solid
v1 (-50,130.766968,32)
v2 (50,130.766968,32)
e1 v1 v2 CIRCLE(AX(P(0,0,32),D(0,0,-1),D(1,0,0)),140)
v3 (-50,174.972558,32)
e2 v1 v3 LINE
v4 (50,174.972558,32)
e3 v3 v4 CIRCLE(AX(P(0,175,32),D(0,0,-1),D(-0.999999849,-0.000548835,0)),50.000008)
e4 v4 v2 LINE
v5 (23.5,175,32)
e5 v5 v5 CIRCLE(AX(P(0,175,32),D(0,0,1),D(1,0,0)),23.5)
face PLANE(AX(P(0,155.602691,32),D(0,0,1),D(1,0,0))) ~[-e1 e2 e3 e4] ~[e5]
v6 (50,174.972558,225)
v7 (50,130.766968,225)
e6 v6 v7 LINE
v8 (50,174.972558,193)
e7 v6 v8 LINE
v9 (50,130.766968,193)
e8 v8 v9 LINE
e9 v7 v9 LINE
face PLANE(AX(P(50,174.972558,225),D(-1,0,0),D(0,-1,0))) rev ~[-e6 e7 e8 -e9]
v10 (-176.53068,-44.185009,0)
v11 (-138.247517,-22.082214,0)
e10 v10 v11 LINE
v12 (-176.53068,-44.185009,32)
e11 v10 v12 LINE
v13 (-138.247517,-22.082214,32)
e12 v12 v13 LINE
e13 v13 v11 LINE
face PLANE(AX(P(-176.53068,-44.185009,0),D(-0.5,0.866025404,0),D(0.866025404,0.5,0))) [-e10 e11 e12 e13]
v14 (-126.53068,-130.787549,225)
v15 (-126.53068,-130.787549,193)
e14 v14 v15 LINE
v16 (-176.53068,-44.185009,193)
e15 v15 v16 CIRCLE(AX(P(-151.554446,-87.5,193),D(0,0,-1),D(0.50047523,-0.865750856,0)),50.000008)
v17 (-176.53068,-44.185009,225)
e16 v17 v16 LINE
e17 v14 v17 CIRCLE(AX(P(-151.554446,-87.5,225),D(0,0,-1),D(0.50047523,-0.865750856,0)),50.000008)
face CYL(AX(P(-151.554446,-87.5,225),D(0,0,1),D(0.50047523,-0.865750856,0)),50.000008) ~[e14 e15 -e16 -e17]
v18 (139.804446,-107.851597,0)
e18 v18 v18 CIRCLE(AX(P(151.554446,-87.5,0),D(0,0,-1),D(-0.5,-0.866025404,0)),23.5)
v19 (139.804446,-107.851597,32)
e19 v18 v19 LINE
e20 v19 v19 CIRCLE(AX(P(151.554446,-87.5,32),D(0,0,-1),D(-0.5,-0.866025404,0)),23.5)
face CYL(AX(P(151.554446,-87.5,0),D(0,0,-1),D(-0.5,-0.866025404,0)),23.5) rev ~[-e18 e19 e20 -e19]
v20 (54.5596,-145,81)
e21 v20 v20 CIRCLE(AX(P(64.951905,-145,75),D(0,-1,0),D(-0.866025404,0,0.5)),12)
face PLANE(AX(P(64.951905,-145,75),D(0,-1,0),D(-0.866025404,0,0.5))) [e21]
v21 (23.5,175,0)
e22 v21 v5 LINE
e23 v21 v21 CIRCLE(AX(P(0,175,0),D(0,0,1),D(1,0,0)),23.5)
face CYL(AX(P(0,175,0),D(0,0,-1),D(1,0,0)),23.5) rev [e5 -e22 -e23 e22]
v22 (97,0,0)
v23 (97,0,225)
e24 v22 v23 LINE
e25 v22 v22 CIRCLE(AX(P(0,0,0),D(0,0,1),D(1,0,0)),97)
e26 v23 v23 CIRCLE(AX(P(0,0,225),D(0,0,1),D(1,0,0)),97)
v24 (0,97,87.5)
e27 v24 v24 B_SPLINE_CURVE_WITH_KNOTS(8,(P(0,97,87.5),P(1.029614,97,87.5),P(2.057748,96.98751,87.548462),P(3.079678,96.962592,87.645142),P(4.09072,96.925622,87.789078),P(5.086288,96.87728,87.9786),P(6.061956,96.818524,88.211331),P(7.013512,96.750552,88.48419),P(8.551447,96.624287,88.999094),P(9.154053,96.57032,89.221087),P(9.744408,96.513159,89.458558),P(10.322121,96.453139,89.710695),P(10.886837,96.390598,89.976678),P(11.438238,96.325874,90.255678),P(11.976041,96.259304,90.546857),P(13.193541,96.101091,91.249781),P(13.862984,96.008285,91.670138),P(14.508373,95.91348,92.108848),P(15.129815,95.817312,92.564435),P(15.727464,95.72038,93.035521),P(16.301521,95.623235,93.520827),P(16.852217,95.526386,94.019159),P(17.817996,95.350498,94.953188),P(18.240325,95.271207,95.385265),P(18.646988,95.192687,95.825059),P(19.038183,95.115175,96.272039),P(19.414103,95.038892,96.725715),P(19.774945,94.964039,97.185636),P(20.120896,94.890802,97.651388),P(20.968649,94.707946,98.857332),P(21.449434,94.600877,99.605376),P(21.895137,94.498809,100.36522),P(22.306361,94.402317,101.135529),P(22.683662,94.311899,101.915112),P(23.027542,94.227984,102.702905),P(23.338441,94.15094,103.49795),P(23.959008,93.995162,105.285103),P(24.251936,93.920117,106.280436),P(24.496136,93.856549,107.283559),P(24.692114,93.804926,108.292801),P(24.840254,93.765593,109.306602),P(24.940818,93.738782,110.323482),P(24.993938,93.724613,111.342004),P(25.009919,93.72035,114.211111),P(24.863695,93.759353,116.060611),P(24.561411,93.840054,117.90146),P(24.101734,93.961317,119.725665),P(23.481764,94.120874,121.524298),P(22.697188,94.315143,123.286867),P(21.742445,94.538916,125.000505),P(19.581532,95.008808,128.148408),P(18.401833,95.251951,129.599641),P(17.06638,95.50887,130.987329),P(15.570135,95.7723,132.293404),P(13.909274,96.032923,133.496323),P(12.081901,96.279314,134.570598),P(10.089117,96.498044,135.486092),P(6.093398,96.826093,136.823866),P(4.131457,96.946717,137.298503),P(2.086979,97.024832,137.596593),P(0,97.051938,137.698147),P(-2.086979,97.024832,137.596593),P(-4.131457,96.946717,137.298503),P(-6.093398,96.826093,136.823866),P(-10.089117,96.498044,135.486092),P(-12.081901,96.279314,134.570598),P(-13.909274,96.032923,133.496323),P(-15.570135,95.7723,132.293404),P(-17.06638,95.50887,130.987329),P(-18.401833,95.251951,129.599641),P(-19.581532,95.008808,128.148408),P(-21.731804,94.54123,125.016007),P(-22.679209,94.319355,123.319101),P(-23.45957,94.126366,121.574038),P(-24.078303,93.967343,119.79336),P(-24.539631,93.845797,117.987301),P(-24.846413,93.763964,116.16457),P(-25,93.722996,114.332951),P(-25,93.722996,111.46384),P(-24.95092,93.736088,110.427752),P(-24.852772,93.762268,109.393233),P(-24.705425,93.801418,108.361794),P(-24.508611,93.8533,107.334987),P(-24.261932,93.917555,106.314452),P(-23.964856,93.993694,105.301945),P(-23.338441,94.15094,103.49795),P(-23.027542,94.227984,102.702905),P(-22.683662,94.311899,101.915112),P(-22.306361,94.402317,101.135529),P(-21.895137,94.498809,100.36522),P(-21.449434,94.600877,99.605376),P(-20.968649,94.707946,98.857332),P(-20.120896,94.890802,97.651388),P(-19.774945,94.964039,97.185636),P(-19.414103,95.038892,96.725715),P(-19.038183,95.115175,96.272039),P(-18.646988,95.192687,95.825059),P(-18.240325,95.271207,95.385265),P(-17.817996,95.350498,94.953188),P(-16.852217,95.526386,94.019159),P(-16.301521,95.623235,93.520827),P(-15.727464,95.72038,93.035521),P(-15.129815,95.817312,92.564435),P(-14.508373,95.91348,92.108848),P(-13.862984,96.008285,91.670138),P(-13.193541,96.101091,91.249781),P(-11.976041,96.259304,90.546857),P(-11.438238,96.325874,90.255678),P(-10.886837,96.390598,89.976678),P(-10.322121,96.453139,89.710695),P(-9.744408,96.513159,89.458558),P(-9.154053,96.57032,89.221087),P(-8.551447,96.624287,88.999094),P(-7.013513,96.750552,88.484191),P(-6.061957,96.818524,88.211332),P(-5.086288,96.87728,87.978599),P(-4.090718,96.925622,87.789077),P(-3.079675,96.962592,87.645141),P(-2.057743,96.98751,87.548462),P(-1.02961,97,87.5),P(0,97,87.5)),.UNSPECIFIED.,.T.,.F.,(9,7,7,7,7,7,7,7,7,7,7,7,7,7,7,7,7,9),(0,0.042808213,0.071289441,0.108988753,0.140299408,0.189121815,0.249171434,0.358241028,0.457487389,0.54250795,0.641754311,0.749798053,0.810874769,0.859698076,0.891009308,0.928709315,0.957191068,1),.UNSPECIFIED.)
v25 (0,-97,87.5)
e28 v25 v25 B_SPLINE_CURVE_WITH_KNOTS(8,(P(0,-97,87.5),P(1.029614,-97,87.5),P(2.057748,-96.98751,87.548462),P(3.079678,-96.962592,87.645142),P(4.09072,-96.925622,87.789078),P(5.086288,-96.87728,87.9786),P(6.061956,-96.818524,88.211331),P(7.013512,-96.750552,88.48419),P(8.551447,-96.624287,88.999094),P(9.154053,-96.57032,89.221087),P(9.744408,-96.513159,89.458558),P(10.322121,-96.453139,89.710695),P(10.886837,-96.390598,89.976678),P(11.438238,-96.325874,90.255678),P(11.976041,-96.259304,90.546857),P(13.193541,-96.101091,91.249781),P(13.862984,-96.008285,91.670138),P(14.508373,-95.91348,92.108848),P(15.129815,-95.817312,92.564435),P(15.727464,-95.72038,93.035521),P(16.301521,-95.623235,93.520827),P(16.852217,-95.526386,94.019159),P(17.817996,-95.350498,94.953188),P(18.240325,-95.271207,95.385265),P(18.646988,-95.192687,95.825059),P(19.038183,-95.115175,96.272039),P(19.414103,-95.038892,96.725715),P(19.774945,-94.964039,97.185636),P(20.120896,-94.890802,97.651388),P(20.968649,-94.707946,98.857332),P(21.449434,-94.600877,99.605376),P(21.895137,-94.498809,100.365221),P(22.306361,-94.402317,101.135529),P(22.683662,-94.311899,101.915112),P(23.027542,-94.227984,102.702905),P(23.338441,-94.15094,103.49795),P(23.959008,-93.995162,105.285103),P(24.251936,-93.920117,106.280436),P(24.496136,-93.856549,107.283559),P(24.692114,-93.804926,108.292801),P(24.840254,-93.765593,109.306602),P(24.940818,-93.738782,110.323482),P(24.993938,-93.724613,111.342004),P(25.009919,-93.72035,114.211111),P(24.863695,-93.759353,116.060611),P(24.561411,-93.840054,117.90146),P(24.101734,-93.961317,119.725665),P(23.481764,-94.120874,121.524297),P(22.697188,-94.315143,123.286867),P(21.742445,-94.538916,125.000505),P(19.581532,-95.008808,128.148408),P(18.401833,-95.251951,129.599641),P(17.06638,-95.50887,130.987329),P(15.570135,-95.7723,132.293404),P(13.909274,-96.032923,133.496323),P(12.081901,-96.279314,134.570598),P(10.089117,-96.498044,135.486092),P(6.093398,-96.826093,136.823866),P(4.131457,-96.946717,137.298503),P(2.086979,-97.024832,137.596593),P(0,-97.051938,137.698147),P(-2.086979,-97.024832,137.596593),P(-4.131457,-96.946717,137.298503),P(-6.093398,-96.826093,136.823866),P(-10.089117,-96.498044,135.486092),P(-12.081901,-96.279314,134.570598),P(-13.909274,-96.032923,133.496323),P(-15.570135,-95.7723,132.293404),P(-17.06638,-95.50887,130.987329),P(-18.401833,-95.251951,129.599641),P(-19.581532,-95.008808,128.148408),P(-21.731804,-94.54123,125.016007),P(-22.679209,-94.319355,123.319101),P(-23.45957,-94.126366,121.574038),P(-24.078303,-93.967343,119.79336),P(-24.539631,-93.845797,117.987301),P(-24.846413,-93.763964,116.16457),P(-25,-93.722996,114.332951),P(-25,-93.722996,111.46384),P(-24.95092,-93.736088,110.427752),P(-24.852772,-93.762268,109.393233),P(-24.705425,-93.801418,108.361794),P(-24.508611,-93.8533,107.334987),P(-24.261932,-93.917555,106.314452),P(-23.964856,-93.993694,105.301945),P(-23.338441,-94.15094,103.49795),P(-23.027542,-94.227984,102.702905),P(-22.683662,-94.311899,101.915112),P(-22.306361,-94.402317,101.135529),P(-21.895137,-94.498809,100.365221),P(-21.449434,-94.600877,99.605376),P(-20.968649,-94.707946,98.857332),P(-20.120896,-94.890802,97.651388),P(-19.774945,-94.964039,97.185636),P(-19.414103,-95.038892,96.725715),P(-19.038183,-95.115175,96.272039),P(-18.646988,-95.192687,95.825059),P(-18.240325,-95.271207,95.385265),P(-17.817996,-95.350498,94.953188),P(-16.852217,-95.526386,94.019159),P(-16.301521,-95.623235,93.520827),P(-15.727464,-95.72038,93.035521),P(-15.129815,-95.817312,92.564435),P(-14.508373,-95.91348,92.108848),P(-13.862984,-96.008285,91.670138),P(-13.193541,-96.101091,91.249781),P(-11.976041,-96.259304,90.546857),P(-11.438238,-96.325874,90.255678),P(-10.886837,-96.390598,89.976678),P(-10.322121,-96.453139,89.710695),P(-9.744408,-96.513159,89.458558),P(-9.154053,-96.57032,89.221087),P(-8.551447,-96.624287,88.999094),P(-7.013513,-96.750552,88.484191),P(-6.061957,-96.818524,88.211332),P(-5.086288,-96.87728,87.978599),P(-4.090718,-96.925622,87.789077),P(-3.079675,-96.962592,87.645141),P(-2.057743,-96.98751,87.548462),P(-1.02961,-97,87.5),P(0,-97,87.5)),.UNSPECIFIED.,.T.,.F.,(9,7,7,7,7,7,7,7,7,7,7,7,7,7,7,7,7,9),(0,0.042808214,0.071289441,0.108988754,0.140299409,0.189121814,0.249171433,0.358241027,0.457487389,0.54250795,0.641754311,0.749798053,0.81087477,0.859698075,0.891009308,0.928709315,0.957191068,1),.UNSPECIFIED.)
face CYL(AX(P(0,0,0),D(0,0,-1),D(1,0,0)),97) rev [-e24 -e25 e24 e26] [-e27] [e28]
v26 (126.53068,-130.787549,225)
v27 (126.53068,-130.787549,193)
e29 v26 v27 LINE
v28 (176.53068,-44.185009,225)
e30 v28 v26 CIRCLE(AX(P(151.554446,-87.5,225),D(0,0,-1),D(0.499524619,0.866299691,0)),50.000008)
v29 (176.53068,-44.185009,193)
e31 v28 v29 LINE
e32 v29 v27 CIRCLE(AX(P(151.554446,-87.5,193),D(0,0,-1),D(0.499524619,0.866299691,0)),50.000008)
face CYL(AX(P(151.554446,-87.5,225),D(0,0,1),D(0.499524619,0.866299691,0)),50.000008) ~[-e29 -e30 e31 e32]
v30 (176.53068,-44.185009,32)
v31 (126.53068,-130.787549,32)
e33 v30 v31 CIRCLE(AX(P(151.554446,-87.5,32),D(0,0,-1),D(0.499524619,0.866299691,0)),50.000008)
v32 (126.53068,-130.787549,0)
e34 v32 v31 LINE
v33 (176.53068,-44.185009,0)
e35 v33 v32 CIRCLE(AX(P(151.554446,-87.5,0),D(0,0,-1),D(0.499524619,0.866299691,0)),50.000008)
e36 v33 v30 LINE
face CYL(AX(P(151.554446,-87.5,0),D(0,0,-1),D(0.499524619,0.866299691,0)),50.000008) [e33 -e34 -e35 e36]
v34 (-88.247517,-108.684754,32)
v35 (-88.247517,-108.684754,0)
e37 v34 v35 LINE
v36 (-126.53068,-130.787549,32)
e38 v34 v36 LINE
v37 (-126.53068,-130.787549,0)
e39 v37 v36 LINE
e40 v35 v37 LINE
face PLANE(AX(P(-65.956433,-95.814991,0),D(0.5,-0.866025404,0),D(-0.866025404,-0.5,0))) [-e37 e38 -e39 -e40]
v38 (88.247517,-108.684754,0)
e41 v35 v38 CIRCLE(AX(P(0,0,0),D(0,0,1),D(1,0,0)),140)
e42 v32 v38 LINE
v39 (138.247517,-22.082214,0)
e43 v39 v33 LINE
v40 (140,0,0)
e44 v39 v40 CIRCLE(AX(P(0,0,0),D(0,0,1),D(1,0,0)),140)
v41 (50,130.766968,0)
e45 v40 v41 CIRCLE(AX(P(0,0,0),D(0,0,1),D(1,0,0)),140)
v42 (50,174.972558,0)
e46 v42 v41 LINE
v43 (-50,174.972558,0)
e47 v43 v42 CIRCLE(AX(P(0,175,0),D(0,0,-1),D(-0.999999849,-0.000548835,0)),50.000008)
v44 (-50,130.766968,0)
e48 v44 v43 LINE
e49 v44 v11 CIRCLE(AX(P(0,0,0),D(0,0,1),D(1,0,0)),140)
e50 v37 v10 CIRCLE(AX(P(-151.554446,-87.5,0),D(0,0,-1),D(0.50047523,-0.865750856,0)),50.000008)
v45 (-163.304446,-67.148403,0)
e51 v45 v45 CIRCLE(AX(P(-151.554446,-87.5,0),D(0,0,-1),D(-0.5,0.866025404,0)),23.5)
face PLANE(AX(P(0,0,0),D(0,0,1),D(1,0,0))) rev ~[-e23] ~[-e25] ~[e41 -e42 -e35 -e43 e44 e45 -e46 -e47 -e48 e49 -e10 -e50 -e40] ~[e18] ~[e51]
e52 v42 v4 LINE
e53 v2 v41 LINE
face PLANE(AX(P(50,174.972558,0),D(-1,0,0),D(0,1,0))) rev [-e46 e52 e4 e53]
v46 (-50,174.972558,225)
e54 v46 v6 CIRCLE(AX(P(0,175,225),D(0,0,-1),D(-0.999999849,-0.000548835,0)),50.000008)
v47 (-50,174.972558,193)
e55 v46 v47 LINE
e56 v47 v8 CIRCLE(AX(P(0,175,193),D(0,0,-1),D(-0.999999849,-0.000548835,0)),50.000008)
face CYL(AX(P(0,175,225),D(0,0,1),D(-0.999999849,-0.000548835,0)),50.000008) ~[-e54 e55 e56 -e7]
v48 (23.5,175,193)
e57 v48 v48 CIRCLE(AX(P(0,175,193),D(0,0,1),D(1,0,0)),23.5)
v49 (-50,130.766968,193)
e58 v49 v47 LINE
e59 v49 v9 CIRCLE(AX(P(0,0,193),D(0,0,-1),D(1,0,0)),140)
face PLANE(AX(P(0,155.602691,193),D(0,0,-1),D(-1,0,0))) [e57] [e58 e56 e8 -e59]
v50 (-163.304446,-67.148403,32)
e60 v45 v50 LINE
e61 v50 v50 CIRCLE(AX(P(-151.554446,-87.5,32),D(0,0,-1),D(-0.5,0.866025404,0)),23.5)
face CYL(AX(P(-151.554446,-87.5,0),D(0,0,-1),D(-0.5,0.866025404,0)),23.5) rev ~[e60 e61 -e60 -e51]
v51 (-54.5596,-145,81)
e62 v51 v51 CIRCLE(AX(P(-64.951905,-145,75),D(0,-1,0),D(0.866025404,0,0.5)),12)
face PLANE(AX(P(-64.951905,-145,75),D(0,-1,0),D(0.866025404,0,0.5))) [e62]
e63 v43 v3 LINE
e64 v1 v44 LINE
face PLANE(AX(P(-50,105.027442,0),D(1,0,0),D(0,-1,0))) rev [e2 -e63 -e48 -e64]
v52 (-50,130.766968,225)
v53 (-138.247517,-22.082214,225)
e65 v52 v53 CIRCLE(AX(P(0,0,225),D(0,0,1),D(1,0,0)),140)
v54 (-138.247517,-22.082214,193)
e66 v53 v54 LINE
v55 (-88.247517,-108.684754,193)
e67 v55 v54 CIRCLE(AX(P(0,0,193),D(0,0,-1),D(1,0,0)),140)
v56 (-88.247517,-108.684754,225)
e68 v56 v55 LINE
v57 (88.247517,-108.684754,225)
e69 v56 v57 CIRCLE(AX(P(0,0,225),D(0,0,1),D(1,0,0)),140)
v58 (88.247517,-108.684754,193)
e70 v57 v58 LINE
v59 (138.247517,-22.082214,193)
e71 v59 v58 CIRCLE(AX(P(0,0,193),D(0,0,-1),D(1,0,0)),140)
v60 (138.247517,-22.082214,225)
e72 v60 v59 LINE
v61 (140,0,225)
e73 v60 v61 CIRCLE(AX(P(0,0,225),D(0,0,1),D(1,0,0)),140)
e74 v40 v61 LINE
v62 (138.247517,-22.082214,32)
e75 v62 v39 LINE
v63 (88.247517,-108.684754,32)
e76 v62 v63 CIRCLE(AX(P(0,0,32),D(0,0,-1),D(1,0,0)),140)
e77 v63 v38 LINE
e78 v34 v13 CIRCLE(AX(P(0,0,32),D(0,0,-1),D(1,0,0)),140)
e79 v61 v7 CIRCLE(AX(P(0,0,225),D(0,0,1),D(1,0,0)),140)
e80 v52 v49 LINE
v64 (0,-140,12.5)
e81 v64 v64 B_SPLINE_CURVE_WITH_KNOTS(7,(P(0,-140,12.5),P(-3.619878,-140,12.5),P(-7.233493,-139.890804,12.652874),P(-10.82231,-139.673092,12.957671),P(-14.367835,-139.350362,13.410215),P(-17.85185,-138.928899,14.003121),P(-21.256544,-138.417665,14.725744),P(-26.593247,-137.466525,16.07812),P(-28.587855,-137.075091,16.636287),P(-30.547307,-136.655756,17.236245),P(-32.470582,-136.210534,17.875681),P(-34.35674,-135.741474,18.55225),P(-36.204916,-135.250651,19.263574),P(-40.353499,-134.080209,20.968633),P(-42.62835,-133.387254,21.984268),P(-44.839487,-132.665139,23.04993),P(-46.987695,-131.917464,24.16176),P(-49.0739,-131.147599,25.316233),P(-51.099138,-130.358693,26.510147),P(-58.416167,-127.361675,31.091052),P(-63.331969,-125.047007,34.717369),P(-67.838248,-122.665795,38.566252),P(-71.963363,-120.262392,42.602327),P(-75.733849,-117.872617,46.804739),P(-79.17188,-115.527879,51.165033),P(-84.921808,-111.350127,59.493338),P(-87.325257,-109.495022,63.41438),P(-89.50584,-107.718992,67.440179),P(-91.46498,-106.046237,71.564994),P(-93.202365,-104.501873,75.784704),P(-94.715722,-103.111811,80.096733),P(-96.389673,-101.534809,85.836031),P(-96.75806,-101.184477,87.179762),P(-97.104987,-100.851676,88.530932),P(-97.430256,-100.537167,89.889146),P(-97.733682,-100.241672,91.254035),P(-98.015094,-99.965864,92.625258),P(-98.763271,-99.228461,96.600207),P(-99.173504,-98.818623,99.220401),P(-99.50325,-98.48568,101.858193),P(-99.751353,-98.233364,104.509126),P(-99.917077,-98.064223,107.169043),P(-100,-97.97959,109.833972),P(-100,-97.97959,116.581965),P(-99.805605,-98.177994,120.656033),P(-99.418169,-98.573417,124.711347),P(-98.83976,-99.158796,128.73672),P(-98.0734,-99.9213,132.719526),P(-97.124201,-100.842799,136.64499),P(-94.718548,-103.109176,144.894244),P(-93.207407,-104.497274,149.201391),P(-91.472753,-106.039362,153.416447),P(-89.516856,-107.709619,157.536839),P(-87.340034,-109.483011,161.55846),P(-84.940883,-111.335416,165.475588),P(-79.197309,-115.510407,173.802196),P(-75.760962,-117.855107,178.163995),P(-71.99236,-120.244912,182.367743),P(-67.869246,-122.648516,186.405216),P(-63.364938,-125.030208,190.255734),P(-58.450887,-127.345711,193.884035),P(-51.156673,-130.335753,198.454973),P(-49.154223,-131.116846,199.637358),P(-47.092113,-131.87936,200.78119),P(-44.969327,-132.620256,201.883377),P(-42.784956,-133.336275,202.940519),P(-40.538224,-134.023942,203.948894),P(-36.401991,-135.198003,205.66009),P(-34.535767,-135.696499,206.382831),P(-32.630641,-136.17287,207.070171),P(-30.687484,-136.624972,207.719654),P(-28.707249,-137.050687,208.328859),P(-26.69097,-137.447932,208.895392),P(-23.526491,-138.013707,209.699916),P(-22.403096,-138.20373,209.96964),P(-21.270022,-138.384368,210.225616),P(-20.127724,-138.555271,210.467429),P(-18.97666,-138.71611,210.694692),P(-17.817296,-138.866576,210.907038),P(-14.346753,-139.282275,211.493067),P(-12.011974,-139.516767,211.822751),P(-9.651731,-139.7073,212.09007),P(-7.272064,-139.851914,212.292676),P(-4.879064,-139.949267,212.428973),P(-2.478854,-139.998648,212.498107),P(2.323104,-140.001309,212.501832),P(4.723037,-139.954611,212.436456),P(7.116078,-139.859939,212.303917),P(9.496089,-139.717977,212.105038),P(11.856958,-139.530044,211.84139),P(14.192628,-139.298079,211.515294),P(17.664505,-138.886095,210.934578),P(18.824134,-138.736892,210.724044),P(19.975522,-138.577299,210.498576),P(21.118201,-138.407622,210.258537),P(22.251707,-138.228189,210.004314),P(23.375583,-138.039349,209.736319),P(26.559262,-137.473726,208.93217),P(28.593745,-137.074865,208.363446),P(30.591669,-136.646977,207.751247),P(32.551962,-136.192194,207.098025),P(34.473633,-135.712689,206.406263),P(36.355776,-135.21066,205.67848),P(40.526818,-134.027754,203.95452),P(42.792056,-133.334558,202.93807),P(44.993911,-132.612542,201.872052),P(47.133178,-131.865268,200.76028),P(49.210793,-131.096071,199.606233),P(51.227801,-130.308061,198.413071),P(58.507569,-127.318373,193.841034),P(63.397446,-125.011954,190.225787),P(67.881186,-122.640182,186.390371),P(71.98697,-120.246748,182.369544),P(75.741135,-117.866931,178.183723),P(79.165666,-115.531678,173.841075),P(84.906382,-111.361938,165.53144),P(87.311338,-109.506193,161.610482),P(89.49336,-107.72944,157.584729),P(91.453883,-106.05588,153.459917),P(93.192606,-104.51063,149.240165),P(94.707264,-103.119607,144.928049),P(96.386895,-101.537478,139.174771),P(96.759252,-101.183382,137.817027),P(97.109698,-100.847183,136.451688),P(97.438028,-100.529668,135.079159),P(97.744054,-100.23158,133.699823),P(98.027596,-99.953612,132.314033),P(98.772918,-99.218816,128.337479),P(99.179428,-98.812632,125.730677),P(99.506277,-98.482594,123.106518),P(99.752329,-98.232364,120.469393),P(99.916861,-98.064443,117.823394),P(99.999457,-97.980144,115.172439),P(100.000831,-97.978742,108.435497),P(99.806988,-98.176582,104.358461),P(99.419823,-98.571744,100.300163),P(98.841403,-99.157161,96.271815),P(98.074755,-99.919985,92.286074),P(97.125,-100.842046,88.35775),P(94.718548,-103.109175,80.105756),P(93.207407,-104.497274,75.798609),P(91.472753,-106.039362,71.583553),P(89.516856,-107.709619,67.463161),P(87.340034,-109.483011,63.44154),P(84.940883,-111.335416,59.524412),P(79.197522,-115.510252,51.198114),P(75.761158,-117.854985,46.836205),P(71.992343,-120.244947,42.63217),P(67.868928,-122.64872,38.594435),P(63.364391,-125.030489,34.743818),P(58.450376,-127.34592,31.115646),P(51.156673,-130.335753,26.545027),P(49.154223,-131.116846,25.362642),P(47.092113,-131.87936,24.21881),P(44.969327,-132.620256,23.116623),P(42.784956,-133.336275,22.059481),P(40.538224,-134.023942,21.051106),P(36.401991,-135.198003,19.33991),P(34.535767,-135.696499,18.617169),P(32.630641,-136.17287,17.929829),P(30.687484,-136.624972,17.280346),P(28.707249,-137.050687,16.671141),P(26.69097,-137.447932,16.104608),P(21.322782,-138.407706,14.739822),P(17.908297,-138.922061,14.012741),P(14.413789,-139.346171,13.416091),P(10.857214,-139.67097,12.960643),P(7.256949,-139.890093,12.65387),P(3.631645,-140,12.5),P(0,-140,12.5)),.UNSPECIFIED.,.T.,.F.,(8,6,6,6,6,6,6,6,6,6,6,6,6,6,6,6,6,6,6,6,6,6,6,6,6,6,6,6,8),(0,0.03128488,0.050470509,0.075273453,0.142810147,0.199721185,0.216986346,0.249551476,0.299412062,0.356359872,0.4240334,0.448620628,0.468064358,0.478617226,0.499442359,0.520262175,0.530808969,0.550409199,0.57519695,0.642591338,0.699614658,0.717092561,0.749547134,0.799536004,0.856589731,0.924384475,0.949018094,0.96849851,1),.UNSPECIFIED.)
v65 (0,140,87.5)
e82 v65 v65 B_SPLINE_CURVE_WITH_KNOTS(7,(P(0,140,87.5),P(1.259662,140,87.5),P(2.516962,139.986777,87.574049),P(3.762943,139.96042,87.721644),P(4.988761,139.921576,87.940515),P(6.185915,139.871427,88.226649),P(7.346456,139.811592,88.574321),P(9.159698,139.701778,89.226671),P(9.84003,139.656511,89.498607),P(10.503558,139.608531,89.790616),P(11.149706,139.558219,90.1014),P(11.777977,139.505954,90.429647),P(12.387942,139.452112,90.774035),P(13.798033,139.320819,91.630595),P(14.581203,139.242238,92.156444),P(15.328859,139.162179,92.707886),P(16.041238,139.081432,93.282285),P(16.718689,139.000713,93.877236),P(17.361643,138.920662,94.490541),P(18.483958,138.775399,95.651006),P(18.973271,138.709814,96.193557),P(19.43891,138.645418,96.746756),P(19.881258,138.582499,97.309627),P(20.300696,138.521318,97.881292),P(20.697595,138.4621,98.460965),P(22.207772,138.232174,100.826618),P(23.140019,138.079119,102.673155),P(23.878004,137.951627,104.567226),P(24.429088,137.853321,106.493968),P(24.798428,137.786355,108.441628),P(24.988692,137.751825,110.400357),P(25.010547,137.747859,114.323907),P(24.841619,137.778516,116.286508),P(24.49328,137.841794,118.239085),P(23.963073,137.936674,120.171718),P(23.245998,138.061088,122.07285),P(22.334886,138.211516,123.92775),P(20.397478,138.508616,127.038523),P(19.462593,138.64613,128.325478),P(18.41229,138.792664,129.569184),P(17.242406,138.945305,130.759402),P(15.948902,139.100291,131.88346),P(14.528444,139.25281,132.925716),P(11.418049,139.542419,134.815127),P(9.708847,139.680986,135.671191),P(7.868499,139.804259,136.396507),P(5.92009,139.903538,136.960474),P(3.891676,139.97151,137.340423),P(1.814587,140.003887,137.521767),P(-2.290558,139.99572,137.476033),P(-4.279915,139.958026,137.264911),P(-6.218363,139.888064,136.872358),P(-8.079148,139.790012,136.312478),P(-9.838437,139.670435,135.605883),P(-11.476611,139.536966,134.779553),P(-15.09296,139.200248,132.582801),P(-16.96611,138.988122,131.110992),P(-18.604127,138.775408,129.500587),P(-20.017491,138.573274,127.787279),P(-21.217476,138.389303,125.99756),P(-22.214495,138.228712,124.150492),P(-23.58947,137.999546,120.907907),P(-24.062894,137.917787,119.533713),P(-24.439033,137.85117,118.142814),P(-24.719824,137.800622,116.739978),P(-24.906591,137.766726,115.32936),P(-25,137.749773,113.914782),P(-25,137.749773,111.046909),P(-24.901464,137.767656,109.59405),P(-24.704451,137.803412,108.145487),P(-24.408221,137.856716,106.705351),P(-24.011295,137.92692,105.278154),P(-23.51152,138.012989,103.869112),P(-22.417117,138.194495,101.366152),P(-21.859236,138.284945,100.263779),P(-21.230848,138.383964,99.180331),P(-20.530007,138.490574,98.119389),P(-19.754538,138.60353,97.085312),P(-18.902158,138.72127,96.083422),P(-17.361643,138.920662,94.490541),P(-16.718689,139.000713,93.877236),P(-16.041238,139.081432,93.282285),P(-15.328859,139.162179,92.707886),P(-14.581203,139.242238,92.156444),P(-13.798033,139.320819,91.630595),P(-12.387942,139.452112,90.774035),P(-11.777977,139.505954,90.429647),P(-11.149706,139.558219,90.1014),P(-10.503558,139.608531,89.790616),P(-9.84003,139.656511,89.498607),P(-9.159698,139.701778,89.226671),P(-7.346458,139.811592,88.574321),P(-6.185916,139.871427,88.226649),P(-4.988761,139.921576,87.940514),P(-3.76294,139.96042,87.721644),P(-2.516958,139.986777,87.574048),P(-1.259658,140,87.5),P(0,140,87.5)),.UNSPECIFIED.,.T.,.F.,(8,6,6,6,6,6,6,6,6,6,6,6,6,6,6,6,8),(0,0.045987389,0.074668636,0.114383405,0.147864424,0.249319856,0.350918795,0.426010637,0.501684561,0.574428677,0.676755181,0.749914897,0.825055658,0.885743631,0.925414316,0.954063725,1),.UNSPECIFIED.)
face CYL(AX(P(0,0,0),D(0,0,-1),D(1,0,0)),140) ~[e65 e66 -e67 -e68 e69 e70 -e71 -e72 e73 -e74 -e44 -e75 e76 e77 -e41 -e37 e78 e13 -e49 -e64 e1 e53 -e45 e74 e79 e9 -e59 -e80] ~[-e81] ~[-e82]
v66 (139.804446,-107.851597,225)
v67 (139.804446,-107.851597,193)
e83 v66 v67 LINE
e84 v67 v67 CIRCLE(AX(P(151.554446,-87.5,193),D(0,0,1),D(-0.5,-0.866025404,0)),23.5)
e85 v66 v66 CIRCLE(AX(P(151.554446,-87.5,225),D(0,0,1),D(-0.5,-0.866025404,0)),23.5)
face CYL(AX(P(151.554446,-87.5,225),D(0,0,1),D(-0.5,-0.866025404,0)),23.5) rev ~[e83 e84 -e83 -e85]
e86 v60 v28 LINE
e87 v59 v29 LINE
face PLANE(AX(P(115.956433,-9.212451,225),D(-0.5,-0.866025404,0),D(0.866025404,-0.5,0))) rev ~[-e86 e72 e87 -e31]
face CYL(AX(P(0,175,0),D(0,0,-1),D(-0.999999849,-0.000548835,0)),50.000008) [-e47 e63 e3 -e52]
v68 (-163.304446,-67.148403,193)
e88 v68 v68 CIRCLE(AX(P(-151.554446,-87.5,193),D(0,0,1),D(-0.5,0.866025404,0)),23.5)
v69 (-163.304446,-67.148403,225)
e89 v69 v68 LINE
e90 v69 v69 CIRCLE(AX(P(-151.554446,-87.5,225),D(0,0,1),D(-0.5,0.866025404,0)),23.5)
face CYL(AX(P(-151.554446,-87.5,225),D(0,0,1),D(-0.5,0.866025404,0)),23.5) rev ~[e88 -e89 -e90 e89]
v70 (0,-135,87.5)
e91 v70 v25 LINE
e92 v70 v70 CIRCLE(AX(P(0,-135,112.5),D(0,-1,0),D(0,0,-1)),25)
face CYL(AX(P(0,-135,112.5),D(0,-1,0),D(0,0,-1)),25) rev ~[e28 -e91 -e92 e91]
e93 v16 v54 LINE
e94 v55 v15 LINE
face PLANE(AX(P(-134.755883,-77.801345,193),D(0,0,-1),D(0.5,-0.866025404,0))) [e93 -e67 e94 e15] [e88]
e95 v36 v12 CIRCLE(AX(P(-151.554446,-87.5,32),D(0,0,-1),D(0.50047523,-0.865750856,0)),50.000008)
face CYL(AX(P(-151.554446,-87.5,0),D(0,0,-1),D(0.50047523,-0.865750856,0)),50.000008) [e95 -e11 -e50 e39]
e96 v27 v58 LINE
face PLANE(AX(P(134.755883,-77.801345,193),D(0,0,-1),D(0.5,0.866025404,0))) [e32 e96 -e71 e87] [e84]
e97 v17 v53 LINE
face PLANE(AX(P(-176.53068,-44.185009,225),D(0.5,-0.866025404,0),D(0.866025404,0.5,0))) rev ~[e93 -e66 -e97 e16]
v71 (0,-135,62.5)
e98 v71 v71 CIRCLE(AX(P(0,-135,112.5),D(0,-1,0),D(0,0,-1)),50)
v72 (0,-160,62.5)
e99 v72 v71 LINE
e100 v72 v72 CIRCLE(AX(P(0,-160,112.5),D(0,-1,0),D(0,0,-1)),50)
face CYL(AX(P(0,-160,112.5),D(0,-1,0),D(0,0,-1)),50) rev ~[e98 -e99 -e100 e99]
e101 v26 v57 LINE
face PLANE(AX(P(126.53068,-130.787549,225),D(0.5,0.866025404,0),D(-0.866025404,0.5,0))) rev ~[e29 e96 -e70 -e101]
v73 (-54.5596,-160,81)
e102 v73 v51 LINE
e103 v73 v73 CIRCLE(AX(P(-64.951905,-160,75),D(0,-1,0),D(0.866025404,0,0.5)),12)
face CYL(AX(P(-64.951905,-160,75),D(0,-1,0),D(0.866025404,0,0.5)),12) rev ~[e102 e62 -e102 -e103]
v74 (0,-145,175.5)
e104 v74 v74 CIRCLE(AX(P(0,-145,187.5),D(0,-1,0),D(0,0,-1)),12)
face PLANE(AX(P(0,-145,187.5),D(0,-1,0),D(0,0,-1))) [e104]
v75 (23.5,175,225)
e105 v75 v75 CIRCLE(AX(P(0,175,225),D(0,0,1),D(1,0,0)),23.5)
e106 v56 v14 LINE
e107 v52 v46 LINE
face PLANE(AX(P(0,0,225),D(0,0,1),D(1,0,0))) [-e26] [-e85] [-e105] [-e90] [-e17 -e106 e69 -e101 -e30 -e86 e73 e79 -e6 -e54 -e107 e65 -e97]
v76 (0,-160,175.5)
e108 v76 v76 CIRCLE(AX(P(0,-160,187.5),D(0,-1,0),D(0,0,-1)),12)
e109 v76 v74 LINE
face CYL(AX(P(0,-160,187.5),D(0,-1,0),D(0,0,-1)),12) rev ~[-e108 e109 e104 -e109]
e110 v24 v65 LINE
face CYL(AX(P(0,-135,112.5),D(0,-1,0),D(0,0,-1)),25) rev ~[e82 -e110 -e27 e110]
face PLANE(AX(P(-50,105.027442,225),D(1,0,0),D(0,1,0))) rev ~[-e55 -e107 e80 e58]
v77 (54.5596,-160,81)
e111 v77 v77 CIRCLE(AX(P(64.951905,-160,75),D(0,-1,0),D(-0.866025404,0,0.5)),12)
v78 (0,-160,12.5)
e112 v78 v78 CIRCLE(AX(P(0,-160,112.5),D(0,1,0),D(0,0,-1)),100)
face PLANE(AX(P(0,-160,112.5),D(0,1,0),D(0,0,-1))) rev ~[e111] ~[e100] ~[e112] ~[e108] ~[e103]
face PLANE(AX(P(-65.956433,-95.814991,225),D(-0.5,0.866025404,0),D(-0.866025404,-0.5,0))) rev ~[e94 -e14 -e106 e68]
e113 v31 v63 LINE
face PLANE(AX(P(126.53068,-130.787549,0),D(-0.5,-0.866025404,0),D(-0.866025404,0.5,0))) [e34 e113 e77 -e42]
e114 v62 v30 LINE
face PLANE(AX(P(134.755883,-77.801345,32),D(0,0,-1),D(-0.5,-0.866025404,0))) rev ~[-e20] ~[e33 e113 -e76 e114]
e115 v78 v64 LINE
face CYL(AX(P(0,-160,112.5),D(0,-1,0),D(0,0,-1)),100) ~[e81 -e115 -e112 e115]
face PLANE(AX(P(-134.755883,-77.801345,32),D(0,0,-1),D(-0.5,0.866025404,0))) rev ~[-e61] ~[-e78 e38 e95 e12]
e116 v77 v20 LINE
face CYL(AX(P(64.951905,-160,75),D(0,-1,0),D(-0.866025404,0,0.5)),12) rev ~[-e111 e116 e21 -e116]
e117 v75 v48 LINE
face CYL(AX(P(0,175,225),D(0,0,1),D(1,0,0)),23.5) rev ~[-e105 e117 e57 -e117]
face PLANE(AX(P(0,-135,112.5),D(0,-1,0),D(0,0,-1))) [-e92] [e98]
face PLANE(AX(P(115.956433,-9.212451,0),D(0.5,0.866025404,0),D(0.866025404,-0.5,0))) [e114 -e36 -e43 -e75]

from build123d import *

# Parameters (mm, degrees)
SKETCH5_R                = 140
SKETCH5_R_2              = 97
BOSS_EXTRUDE2_DEPTH      = 225
SKETCH6_R                = 23.5
BOSS_EXTRUDE3_DEPTH      = 32
CIRPATTERN1_COUNT        = 3
MIRROR1_COPY_1_SKETCH_R  = 23.5
MIRROR1_COPY_1_DEPTH     = 32
MIRROR1_COPY_2_SKETCH_R  = 23.5
MIRROR1_COPY_2_DEPTH     = 32
BOSS_EXTRUDE4_REACH      = 491.361
BOSS_EXTRUDE4_END_RADIUS = 140
SKETCH7_R                = 100
SKETCH9_R                = 50
CUT_EXTRUDE2_DEPTH       = 25
SKETCH10_R               = 25
CUT_EXTRUDE3_DEPTH       = 470.945957604
SKETCH11_R               = 12
CUT_EXTRUDE4_DEPTH       = 15
CIRPATTERN4_COUNT        = 3


with BuildPart() as part:
    # Sketch5 → Boss-Extrude2 (new body)
    with BuildSketch(Plane.XY):
        Circle(SKETCH5_R)
        Circle(SKETCH5_R_2, mode=Mode.SUBTRACT)
    extrude(amount=BOSS_EXTRUDE2_DEPTH)

    # Sketch6 → Boss-Extrude3 (add)
    with BuildSketch(Plane.XY.offset(225)):
        with BuildLine():
            Line((50, 105.027441764), (-50, 105.027441764))
            Line((-50, 105.027441764), (-50, 174.972558236))
            ThreePointArc((-50, 174.972558236), (0, 225.000007531), (50, 174.972558236))
            Line((50, 174.972558236), (50, 105.027441764))
        make_face()
        with Locations((0, 175)):
            Circle(SKETCH6_R, mode=Mode.SUBTRACT)
    boss_extrude3 = extrude(amount=-BOSS_EXTRUDE3_DEPTH)

    # CirPattern1: Boss-Extrude3 ×3 about axis
    cirpattern1_axis = Axis((0, 0, 0), (0, 0, 1))
    for i in range(1, CIRPATTERN1_COUNT):
        add(boss_extrude3.rotate(cirpattern1_axis, i * 360 / CIRPATTERN1_COUNT))

    # Mirror1: Boss-Extrude3 across plane
    add(boss_extrude3.mirror(Plane(origin=(0, 0, 112.5), x_dir=(1, 0, 0), z_dir=(0, 0, -1))))

    # Mirror1 copy 1 sketch → Mirror1 copy 1 (add)
    with BuildSketch(Plane(origin=(0, 0, 0), x_dir=(-0.4999999999999998, 0.8660254037844387, 0), z_dir=(0, 0, -1))):
        with BuildLine():
            Line((50, -105.027441764), (-50, -105.027441764))
            Line((-50, -105.027441764), (-50, -174.972558236))
            ThreePointArc((-50, -174.972558236), (0, -225.000007531), (50, -174.972558236))
            Line((50, -174.972558236), (50, -105.027441764))
        make_face()
        with Locations((0, -175)):
            Circle(MIRROR1_COPY_1_SKETCH_R, mode=Mode.SUBTRACT)
    extrude(amount=-MIRROR1_COPY_1_DEPTH)

    # Mirror1 copy 2 sketch → Mirror1 copy 2 (add)
    with BuildSketch(Plane(origin=(0, 0, 0), x_dir=(-0.5000000000000004, -0.8660254037844384, 0), z_dir=(0, 0, -1))):
        with BuildLine():
            Line((50, -105.027441764), (-50, -105.027441764))
            Line((-50, -105.027441764), (-50, -174.972558236))
            ThreePointArc((-50, -174.972558236), (0, -225.000007531), (50, -174.972558236))
            Line((50, -174.972558236), (50, -105.027441764))
        make_face()
        with Locations((0, -175)):
            Circle(MIRROR1_COPY_2_SKETCH_R, mode=Mode.SUBTRACT)
    extrude(amount=-MIRROR1_COPY_2_DEPTH)

    # Boss-Extrude4: up to this cylinder (the profile starts outside it)
    boss_extrude4_end = Plane(origin=(0, 0, 112.5), z_dir=(0, 0, -1)) * Cylinder(BOSS_EXTRUDE4_END_RADIUS, 1263.722, mode=Mode.PRIVATE)
    # Sketch7 → Boss-Extrude4 (add, up to the surface)
    with BuildSketch(Plane(origin=(0, -160, 0), x_dir=(1, 0, 0), z_dir=(0, 1, 0)), mode=Mode.PRIVATE) as boss_extrude4_sk1:
        with Locations(Location((0, -112.5, 0), (0, 0, 90))):
            Circle(SKETCH7_R)
    boss_extrude4_tool1 = extrude(boss_extrude4_sk1.sketch, amount=BOSS_EXTRUDE4_REACH, mode=Mode.PRIVATE) - boss_extrude4_end
    add(boss_extrude4_tool1.solids().sort_by_distance((0, -160, 112.5))[0])

    # Sketch9 → Cut-Extrude2 (cut)
    with BuildSketch(Plane.XZ.offset(160)):
        with Locations(Location((0, 112.5, 0), (0, 0, 270))):
            Circle(SKETCH9_R)
    extrude(amount=-CUT_EXTRUDE2_DEPTH, mode=Mode.SUBTRACT)

    # Sketch10 → Cut-Extrude3 (cut, through all)
    with BuildSketch(Plane.XZ.offset(135)):
        with Locations(Location((0, 112.5, 0), (0, 0, 270))):
            Circle(SKETCH10_R)
    extrude(amount=-CUT_EXTRUDE3_DEPTH, mode=Mode.SUBTRACT)

    # Sketch11 → Cut-Extrude4 (cut)
    with BuildSketch(Plane.XZ.offset(160)):
        with Locations(Location((0, 187.5, 0), (0, 0, 270))):
            Circle(SKETCH11_R)
    cut_extrude4 = extrude(amount=-CUT_EXTRUDE4_DEPTH, mode=Mode.SUBTRACT)

    # CirPattern4: Cut-Extrude4 ×3 about axis
    cirpattern4_axis = Axis((0, 0, 112.5), (0, 1, 0))
    for i in range(1, CIRPATTERN4_COUNT):
        add(cut_extrude4.rotate(cirpattern4_axis, i * 360 / CIRPATTERN4_COUNT), mode=Mode.SUBTRACT)


solid = part.part
